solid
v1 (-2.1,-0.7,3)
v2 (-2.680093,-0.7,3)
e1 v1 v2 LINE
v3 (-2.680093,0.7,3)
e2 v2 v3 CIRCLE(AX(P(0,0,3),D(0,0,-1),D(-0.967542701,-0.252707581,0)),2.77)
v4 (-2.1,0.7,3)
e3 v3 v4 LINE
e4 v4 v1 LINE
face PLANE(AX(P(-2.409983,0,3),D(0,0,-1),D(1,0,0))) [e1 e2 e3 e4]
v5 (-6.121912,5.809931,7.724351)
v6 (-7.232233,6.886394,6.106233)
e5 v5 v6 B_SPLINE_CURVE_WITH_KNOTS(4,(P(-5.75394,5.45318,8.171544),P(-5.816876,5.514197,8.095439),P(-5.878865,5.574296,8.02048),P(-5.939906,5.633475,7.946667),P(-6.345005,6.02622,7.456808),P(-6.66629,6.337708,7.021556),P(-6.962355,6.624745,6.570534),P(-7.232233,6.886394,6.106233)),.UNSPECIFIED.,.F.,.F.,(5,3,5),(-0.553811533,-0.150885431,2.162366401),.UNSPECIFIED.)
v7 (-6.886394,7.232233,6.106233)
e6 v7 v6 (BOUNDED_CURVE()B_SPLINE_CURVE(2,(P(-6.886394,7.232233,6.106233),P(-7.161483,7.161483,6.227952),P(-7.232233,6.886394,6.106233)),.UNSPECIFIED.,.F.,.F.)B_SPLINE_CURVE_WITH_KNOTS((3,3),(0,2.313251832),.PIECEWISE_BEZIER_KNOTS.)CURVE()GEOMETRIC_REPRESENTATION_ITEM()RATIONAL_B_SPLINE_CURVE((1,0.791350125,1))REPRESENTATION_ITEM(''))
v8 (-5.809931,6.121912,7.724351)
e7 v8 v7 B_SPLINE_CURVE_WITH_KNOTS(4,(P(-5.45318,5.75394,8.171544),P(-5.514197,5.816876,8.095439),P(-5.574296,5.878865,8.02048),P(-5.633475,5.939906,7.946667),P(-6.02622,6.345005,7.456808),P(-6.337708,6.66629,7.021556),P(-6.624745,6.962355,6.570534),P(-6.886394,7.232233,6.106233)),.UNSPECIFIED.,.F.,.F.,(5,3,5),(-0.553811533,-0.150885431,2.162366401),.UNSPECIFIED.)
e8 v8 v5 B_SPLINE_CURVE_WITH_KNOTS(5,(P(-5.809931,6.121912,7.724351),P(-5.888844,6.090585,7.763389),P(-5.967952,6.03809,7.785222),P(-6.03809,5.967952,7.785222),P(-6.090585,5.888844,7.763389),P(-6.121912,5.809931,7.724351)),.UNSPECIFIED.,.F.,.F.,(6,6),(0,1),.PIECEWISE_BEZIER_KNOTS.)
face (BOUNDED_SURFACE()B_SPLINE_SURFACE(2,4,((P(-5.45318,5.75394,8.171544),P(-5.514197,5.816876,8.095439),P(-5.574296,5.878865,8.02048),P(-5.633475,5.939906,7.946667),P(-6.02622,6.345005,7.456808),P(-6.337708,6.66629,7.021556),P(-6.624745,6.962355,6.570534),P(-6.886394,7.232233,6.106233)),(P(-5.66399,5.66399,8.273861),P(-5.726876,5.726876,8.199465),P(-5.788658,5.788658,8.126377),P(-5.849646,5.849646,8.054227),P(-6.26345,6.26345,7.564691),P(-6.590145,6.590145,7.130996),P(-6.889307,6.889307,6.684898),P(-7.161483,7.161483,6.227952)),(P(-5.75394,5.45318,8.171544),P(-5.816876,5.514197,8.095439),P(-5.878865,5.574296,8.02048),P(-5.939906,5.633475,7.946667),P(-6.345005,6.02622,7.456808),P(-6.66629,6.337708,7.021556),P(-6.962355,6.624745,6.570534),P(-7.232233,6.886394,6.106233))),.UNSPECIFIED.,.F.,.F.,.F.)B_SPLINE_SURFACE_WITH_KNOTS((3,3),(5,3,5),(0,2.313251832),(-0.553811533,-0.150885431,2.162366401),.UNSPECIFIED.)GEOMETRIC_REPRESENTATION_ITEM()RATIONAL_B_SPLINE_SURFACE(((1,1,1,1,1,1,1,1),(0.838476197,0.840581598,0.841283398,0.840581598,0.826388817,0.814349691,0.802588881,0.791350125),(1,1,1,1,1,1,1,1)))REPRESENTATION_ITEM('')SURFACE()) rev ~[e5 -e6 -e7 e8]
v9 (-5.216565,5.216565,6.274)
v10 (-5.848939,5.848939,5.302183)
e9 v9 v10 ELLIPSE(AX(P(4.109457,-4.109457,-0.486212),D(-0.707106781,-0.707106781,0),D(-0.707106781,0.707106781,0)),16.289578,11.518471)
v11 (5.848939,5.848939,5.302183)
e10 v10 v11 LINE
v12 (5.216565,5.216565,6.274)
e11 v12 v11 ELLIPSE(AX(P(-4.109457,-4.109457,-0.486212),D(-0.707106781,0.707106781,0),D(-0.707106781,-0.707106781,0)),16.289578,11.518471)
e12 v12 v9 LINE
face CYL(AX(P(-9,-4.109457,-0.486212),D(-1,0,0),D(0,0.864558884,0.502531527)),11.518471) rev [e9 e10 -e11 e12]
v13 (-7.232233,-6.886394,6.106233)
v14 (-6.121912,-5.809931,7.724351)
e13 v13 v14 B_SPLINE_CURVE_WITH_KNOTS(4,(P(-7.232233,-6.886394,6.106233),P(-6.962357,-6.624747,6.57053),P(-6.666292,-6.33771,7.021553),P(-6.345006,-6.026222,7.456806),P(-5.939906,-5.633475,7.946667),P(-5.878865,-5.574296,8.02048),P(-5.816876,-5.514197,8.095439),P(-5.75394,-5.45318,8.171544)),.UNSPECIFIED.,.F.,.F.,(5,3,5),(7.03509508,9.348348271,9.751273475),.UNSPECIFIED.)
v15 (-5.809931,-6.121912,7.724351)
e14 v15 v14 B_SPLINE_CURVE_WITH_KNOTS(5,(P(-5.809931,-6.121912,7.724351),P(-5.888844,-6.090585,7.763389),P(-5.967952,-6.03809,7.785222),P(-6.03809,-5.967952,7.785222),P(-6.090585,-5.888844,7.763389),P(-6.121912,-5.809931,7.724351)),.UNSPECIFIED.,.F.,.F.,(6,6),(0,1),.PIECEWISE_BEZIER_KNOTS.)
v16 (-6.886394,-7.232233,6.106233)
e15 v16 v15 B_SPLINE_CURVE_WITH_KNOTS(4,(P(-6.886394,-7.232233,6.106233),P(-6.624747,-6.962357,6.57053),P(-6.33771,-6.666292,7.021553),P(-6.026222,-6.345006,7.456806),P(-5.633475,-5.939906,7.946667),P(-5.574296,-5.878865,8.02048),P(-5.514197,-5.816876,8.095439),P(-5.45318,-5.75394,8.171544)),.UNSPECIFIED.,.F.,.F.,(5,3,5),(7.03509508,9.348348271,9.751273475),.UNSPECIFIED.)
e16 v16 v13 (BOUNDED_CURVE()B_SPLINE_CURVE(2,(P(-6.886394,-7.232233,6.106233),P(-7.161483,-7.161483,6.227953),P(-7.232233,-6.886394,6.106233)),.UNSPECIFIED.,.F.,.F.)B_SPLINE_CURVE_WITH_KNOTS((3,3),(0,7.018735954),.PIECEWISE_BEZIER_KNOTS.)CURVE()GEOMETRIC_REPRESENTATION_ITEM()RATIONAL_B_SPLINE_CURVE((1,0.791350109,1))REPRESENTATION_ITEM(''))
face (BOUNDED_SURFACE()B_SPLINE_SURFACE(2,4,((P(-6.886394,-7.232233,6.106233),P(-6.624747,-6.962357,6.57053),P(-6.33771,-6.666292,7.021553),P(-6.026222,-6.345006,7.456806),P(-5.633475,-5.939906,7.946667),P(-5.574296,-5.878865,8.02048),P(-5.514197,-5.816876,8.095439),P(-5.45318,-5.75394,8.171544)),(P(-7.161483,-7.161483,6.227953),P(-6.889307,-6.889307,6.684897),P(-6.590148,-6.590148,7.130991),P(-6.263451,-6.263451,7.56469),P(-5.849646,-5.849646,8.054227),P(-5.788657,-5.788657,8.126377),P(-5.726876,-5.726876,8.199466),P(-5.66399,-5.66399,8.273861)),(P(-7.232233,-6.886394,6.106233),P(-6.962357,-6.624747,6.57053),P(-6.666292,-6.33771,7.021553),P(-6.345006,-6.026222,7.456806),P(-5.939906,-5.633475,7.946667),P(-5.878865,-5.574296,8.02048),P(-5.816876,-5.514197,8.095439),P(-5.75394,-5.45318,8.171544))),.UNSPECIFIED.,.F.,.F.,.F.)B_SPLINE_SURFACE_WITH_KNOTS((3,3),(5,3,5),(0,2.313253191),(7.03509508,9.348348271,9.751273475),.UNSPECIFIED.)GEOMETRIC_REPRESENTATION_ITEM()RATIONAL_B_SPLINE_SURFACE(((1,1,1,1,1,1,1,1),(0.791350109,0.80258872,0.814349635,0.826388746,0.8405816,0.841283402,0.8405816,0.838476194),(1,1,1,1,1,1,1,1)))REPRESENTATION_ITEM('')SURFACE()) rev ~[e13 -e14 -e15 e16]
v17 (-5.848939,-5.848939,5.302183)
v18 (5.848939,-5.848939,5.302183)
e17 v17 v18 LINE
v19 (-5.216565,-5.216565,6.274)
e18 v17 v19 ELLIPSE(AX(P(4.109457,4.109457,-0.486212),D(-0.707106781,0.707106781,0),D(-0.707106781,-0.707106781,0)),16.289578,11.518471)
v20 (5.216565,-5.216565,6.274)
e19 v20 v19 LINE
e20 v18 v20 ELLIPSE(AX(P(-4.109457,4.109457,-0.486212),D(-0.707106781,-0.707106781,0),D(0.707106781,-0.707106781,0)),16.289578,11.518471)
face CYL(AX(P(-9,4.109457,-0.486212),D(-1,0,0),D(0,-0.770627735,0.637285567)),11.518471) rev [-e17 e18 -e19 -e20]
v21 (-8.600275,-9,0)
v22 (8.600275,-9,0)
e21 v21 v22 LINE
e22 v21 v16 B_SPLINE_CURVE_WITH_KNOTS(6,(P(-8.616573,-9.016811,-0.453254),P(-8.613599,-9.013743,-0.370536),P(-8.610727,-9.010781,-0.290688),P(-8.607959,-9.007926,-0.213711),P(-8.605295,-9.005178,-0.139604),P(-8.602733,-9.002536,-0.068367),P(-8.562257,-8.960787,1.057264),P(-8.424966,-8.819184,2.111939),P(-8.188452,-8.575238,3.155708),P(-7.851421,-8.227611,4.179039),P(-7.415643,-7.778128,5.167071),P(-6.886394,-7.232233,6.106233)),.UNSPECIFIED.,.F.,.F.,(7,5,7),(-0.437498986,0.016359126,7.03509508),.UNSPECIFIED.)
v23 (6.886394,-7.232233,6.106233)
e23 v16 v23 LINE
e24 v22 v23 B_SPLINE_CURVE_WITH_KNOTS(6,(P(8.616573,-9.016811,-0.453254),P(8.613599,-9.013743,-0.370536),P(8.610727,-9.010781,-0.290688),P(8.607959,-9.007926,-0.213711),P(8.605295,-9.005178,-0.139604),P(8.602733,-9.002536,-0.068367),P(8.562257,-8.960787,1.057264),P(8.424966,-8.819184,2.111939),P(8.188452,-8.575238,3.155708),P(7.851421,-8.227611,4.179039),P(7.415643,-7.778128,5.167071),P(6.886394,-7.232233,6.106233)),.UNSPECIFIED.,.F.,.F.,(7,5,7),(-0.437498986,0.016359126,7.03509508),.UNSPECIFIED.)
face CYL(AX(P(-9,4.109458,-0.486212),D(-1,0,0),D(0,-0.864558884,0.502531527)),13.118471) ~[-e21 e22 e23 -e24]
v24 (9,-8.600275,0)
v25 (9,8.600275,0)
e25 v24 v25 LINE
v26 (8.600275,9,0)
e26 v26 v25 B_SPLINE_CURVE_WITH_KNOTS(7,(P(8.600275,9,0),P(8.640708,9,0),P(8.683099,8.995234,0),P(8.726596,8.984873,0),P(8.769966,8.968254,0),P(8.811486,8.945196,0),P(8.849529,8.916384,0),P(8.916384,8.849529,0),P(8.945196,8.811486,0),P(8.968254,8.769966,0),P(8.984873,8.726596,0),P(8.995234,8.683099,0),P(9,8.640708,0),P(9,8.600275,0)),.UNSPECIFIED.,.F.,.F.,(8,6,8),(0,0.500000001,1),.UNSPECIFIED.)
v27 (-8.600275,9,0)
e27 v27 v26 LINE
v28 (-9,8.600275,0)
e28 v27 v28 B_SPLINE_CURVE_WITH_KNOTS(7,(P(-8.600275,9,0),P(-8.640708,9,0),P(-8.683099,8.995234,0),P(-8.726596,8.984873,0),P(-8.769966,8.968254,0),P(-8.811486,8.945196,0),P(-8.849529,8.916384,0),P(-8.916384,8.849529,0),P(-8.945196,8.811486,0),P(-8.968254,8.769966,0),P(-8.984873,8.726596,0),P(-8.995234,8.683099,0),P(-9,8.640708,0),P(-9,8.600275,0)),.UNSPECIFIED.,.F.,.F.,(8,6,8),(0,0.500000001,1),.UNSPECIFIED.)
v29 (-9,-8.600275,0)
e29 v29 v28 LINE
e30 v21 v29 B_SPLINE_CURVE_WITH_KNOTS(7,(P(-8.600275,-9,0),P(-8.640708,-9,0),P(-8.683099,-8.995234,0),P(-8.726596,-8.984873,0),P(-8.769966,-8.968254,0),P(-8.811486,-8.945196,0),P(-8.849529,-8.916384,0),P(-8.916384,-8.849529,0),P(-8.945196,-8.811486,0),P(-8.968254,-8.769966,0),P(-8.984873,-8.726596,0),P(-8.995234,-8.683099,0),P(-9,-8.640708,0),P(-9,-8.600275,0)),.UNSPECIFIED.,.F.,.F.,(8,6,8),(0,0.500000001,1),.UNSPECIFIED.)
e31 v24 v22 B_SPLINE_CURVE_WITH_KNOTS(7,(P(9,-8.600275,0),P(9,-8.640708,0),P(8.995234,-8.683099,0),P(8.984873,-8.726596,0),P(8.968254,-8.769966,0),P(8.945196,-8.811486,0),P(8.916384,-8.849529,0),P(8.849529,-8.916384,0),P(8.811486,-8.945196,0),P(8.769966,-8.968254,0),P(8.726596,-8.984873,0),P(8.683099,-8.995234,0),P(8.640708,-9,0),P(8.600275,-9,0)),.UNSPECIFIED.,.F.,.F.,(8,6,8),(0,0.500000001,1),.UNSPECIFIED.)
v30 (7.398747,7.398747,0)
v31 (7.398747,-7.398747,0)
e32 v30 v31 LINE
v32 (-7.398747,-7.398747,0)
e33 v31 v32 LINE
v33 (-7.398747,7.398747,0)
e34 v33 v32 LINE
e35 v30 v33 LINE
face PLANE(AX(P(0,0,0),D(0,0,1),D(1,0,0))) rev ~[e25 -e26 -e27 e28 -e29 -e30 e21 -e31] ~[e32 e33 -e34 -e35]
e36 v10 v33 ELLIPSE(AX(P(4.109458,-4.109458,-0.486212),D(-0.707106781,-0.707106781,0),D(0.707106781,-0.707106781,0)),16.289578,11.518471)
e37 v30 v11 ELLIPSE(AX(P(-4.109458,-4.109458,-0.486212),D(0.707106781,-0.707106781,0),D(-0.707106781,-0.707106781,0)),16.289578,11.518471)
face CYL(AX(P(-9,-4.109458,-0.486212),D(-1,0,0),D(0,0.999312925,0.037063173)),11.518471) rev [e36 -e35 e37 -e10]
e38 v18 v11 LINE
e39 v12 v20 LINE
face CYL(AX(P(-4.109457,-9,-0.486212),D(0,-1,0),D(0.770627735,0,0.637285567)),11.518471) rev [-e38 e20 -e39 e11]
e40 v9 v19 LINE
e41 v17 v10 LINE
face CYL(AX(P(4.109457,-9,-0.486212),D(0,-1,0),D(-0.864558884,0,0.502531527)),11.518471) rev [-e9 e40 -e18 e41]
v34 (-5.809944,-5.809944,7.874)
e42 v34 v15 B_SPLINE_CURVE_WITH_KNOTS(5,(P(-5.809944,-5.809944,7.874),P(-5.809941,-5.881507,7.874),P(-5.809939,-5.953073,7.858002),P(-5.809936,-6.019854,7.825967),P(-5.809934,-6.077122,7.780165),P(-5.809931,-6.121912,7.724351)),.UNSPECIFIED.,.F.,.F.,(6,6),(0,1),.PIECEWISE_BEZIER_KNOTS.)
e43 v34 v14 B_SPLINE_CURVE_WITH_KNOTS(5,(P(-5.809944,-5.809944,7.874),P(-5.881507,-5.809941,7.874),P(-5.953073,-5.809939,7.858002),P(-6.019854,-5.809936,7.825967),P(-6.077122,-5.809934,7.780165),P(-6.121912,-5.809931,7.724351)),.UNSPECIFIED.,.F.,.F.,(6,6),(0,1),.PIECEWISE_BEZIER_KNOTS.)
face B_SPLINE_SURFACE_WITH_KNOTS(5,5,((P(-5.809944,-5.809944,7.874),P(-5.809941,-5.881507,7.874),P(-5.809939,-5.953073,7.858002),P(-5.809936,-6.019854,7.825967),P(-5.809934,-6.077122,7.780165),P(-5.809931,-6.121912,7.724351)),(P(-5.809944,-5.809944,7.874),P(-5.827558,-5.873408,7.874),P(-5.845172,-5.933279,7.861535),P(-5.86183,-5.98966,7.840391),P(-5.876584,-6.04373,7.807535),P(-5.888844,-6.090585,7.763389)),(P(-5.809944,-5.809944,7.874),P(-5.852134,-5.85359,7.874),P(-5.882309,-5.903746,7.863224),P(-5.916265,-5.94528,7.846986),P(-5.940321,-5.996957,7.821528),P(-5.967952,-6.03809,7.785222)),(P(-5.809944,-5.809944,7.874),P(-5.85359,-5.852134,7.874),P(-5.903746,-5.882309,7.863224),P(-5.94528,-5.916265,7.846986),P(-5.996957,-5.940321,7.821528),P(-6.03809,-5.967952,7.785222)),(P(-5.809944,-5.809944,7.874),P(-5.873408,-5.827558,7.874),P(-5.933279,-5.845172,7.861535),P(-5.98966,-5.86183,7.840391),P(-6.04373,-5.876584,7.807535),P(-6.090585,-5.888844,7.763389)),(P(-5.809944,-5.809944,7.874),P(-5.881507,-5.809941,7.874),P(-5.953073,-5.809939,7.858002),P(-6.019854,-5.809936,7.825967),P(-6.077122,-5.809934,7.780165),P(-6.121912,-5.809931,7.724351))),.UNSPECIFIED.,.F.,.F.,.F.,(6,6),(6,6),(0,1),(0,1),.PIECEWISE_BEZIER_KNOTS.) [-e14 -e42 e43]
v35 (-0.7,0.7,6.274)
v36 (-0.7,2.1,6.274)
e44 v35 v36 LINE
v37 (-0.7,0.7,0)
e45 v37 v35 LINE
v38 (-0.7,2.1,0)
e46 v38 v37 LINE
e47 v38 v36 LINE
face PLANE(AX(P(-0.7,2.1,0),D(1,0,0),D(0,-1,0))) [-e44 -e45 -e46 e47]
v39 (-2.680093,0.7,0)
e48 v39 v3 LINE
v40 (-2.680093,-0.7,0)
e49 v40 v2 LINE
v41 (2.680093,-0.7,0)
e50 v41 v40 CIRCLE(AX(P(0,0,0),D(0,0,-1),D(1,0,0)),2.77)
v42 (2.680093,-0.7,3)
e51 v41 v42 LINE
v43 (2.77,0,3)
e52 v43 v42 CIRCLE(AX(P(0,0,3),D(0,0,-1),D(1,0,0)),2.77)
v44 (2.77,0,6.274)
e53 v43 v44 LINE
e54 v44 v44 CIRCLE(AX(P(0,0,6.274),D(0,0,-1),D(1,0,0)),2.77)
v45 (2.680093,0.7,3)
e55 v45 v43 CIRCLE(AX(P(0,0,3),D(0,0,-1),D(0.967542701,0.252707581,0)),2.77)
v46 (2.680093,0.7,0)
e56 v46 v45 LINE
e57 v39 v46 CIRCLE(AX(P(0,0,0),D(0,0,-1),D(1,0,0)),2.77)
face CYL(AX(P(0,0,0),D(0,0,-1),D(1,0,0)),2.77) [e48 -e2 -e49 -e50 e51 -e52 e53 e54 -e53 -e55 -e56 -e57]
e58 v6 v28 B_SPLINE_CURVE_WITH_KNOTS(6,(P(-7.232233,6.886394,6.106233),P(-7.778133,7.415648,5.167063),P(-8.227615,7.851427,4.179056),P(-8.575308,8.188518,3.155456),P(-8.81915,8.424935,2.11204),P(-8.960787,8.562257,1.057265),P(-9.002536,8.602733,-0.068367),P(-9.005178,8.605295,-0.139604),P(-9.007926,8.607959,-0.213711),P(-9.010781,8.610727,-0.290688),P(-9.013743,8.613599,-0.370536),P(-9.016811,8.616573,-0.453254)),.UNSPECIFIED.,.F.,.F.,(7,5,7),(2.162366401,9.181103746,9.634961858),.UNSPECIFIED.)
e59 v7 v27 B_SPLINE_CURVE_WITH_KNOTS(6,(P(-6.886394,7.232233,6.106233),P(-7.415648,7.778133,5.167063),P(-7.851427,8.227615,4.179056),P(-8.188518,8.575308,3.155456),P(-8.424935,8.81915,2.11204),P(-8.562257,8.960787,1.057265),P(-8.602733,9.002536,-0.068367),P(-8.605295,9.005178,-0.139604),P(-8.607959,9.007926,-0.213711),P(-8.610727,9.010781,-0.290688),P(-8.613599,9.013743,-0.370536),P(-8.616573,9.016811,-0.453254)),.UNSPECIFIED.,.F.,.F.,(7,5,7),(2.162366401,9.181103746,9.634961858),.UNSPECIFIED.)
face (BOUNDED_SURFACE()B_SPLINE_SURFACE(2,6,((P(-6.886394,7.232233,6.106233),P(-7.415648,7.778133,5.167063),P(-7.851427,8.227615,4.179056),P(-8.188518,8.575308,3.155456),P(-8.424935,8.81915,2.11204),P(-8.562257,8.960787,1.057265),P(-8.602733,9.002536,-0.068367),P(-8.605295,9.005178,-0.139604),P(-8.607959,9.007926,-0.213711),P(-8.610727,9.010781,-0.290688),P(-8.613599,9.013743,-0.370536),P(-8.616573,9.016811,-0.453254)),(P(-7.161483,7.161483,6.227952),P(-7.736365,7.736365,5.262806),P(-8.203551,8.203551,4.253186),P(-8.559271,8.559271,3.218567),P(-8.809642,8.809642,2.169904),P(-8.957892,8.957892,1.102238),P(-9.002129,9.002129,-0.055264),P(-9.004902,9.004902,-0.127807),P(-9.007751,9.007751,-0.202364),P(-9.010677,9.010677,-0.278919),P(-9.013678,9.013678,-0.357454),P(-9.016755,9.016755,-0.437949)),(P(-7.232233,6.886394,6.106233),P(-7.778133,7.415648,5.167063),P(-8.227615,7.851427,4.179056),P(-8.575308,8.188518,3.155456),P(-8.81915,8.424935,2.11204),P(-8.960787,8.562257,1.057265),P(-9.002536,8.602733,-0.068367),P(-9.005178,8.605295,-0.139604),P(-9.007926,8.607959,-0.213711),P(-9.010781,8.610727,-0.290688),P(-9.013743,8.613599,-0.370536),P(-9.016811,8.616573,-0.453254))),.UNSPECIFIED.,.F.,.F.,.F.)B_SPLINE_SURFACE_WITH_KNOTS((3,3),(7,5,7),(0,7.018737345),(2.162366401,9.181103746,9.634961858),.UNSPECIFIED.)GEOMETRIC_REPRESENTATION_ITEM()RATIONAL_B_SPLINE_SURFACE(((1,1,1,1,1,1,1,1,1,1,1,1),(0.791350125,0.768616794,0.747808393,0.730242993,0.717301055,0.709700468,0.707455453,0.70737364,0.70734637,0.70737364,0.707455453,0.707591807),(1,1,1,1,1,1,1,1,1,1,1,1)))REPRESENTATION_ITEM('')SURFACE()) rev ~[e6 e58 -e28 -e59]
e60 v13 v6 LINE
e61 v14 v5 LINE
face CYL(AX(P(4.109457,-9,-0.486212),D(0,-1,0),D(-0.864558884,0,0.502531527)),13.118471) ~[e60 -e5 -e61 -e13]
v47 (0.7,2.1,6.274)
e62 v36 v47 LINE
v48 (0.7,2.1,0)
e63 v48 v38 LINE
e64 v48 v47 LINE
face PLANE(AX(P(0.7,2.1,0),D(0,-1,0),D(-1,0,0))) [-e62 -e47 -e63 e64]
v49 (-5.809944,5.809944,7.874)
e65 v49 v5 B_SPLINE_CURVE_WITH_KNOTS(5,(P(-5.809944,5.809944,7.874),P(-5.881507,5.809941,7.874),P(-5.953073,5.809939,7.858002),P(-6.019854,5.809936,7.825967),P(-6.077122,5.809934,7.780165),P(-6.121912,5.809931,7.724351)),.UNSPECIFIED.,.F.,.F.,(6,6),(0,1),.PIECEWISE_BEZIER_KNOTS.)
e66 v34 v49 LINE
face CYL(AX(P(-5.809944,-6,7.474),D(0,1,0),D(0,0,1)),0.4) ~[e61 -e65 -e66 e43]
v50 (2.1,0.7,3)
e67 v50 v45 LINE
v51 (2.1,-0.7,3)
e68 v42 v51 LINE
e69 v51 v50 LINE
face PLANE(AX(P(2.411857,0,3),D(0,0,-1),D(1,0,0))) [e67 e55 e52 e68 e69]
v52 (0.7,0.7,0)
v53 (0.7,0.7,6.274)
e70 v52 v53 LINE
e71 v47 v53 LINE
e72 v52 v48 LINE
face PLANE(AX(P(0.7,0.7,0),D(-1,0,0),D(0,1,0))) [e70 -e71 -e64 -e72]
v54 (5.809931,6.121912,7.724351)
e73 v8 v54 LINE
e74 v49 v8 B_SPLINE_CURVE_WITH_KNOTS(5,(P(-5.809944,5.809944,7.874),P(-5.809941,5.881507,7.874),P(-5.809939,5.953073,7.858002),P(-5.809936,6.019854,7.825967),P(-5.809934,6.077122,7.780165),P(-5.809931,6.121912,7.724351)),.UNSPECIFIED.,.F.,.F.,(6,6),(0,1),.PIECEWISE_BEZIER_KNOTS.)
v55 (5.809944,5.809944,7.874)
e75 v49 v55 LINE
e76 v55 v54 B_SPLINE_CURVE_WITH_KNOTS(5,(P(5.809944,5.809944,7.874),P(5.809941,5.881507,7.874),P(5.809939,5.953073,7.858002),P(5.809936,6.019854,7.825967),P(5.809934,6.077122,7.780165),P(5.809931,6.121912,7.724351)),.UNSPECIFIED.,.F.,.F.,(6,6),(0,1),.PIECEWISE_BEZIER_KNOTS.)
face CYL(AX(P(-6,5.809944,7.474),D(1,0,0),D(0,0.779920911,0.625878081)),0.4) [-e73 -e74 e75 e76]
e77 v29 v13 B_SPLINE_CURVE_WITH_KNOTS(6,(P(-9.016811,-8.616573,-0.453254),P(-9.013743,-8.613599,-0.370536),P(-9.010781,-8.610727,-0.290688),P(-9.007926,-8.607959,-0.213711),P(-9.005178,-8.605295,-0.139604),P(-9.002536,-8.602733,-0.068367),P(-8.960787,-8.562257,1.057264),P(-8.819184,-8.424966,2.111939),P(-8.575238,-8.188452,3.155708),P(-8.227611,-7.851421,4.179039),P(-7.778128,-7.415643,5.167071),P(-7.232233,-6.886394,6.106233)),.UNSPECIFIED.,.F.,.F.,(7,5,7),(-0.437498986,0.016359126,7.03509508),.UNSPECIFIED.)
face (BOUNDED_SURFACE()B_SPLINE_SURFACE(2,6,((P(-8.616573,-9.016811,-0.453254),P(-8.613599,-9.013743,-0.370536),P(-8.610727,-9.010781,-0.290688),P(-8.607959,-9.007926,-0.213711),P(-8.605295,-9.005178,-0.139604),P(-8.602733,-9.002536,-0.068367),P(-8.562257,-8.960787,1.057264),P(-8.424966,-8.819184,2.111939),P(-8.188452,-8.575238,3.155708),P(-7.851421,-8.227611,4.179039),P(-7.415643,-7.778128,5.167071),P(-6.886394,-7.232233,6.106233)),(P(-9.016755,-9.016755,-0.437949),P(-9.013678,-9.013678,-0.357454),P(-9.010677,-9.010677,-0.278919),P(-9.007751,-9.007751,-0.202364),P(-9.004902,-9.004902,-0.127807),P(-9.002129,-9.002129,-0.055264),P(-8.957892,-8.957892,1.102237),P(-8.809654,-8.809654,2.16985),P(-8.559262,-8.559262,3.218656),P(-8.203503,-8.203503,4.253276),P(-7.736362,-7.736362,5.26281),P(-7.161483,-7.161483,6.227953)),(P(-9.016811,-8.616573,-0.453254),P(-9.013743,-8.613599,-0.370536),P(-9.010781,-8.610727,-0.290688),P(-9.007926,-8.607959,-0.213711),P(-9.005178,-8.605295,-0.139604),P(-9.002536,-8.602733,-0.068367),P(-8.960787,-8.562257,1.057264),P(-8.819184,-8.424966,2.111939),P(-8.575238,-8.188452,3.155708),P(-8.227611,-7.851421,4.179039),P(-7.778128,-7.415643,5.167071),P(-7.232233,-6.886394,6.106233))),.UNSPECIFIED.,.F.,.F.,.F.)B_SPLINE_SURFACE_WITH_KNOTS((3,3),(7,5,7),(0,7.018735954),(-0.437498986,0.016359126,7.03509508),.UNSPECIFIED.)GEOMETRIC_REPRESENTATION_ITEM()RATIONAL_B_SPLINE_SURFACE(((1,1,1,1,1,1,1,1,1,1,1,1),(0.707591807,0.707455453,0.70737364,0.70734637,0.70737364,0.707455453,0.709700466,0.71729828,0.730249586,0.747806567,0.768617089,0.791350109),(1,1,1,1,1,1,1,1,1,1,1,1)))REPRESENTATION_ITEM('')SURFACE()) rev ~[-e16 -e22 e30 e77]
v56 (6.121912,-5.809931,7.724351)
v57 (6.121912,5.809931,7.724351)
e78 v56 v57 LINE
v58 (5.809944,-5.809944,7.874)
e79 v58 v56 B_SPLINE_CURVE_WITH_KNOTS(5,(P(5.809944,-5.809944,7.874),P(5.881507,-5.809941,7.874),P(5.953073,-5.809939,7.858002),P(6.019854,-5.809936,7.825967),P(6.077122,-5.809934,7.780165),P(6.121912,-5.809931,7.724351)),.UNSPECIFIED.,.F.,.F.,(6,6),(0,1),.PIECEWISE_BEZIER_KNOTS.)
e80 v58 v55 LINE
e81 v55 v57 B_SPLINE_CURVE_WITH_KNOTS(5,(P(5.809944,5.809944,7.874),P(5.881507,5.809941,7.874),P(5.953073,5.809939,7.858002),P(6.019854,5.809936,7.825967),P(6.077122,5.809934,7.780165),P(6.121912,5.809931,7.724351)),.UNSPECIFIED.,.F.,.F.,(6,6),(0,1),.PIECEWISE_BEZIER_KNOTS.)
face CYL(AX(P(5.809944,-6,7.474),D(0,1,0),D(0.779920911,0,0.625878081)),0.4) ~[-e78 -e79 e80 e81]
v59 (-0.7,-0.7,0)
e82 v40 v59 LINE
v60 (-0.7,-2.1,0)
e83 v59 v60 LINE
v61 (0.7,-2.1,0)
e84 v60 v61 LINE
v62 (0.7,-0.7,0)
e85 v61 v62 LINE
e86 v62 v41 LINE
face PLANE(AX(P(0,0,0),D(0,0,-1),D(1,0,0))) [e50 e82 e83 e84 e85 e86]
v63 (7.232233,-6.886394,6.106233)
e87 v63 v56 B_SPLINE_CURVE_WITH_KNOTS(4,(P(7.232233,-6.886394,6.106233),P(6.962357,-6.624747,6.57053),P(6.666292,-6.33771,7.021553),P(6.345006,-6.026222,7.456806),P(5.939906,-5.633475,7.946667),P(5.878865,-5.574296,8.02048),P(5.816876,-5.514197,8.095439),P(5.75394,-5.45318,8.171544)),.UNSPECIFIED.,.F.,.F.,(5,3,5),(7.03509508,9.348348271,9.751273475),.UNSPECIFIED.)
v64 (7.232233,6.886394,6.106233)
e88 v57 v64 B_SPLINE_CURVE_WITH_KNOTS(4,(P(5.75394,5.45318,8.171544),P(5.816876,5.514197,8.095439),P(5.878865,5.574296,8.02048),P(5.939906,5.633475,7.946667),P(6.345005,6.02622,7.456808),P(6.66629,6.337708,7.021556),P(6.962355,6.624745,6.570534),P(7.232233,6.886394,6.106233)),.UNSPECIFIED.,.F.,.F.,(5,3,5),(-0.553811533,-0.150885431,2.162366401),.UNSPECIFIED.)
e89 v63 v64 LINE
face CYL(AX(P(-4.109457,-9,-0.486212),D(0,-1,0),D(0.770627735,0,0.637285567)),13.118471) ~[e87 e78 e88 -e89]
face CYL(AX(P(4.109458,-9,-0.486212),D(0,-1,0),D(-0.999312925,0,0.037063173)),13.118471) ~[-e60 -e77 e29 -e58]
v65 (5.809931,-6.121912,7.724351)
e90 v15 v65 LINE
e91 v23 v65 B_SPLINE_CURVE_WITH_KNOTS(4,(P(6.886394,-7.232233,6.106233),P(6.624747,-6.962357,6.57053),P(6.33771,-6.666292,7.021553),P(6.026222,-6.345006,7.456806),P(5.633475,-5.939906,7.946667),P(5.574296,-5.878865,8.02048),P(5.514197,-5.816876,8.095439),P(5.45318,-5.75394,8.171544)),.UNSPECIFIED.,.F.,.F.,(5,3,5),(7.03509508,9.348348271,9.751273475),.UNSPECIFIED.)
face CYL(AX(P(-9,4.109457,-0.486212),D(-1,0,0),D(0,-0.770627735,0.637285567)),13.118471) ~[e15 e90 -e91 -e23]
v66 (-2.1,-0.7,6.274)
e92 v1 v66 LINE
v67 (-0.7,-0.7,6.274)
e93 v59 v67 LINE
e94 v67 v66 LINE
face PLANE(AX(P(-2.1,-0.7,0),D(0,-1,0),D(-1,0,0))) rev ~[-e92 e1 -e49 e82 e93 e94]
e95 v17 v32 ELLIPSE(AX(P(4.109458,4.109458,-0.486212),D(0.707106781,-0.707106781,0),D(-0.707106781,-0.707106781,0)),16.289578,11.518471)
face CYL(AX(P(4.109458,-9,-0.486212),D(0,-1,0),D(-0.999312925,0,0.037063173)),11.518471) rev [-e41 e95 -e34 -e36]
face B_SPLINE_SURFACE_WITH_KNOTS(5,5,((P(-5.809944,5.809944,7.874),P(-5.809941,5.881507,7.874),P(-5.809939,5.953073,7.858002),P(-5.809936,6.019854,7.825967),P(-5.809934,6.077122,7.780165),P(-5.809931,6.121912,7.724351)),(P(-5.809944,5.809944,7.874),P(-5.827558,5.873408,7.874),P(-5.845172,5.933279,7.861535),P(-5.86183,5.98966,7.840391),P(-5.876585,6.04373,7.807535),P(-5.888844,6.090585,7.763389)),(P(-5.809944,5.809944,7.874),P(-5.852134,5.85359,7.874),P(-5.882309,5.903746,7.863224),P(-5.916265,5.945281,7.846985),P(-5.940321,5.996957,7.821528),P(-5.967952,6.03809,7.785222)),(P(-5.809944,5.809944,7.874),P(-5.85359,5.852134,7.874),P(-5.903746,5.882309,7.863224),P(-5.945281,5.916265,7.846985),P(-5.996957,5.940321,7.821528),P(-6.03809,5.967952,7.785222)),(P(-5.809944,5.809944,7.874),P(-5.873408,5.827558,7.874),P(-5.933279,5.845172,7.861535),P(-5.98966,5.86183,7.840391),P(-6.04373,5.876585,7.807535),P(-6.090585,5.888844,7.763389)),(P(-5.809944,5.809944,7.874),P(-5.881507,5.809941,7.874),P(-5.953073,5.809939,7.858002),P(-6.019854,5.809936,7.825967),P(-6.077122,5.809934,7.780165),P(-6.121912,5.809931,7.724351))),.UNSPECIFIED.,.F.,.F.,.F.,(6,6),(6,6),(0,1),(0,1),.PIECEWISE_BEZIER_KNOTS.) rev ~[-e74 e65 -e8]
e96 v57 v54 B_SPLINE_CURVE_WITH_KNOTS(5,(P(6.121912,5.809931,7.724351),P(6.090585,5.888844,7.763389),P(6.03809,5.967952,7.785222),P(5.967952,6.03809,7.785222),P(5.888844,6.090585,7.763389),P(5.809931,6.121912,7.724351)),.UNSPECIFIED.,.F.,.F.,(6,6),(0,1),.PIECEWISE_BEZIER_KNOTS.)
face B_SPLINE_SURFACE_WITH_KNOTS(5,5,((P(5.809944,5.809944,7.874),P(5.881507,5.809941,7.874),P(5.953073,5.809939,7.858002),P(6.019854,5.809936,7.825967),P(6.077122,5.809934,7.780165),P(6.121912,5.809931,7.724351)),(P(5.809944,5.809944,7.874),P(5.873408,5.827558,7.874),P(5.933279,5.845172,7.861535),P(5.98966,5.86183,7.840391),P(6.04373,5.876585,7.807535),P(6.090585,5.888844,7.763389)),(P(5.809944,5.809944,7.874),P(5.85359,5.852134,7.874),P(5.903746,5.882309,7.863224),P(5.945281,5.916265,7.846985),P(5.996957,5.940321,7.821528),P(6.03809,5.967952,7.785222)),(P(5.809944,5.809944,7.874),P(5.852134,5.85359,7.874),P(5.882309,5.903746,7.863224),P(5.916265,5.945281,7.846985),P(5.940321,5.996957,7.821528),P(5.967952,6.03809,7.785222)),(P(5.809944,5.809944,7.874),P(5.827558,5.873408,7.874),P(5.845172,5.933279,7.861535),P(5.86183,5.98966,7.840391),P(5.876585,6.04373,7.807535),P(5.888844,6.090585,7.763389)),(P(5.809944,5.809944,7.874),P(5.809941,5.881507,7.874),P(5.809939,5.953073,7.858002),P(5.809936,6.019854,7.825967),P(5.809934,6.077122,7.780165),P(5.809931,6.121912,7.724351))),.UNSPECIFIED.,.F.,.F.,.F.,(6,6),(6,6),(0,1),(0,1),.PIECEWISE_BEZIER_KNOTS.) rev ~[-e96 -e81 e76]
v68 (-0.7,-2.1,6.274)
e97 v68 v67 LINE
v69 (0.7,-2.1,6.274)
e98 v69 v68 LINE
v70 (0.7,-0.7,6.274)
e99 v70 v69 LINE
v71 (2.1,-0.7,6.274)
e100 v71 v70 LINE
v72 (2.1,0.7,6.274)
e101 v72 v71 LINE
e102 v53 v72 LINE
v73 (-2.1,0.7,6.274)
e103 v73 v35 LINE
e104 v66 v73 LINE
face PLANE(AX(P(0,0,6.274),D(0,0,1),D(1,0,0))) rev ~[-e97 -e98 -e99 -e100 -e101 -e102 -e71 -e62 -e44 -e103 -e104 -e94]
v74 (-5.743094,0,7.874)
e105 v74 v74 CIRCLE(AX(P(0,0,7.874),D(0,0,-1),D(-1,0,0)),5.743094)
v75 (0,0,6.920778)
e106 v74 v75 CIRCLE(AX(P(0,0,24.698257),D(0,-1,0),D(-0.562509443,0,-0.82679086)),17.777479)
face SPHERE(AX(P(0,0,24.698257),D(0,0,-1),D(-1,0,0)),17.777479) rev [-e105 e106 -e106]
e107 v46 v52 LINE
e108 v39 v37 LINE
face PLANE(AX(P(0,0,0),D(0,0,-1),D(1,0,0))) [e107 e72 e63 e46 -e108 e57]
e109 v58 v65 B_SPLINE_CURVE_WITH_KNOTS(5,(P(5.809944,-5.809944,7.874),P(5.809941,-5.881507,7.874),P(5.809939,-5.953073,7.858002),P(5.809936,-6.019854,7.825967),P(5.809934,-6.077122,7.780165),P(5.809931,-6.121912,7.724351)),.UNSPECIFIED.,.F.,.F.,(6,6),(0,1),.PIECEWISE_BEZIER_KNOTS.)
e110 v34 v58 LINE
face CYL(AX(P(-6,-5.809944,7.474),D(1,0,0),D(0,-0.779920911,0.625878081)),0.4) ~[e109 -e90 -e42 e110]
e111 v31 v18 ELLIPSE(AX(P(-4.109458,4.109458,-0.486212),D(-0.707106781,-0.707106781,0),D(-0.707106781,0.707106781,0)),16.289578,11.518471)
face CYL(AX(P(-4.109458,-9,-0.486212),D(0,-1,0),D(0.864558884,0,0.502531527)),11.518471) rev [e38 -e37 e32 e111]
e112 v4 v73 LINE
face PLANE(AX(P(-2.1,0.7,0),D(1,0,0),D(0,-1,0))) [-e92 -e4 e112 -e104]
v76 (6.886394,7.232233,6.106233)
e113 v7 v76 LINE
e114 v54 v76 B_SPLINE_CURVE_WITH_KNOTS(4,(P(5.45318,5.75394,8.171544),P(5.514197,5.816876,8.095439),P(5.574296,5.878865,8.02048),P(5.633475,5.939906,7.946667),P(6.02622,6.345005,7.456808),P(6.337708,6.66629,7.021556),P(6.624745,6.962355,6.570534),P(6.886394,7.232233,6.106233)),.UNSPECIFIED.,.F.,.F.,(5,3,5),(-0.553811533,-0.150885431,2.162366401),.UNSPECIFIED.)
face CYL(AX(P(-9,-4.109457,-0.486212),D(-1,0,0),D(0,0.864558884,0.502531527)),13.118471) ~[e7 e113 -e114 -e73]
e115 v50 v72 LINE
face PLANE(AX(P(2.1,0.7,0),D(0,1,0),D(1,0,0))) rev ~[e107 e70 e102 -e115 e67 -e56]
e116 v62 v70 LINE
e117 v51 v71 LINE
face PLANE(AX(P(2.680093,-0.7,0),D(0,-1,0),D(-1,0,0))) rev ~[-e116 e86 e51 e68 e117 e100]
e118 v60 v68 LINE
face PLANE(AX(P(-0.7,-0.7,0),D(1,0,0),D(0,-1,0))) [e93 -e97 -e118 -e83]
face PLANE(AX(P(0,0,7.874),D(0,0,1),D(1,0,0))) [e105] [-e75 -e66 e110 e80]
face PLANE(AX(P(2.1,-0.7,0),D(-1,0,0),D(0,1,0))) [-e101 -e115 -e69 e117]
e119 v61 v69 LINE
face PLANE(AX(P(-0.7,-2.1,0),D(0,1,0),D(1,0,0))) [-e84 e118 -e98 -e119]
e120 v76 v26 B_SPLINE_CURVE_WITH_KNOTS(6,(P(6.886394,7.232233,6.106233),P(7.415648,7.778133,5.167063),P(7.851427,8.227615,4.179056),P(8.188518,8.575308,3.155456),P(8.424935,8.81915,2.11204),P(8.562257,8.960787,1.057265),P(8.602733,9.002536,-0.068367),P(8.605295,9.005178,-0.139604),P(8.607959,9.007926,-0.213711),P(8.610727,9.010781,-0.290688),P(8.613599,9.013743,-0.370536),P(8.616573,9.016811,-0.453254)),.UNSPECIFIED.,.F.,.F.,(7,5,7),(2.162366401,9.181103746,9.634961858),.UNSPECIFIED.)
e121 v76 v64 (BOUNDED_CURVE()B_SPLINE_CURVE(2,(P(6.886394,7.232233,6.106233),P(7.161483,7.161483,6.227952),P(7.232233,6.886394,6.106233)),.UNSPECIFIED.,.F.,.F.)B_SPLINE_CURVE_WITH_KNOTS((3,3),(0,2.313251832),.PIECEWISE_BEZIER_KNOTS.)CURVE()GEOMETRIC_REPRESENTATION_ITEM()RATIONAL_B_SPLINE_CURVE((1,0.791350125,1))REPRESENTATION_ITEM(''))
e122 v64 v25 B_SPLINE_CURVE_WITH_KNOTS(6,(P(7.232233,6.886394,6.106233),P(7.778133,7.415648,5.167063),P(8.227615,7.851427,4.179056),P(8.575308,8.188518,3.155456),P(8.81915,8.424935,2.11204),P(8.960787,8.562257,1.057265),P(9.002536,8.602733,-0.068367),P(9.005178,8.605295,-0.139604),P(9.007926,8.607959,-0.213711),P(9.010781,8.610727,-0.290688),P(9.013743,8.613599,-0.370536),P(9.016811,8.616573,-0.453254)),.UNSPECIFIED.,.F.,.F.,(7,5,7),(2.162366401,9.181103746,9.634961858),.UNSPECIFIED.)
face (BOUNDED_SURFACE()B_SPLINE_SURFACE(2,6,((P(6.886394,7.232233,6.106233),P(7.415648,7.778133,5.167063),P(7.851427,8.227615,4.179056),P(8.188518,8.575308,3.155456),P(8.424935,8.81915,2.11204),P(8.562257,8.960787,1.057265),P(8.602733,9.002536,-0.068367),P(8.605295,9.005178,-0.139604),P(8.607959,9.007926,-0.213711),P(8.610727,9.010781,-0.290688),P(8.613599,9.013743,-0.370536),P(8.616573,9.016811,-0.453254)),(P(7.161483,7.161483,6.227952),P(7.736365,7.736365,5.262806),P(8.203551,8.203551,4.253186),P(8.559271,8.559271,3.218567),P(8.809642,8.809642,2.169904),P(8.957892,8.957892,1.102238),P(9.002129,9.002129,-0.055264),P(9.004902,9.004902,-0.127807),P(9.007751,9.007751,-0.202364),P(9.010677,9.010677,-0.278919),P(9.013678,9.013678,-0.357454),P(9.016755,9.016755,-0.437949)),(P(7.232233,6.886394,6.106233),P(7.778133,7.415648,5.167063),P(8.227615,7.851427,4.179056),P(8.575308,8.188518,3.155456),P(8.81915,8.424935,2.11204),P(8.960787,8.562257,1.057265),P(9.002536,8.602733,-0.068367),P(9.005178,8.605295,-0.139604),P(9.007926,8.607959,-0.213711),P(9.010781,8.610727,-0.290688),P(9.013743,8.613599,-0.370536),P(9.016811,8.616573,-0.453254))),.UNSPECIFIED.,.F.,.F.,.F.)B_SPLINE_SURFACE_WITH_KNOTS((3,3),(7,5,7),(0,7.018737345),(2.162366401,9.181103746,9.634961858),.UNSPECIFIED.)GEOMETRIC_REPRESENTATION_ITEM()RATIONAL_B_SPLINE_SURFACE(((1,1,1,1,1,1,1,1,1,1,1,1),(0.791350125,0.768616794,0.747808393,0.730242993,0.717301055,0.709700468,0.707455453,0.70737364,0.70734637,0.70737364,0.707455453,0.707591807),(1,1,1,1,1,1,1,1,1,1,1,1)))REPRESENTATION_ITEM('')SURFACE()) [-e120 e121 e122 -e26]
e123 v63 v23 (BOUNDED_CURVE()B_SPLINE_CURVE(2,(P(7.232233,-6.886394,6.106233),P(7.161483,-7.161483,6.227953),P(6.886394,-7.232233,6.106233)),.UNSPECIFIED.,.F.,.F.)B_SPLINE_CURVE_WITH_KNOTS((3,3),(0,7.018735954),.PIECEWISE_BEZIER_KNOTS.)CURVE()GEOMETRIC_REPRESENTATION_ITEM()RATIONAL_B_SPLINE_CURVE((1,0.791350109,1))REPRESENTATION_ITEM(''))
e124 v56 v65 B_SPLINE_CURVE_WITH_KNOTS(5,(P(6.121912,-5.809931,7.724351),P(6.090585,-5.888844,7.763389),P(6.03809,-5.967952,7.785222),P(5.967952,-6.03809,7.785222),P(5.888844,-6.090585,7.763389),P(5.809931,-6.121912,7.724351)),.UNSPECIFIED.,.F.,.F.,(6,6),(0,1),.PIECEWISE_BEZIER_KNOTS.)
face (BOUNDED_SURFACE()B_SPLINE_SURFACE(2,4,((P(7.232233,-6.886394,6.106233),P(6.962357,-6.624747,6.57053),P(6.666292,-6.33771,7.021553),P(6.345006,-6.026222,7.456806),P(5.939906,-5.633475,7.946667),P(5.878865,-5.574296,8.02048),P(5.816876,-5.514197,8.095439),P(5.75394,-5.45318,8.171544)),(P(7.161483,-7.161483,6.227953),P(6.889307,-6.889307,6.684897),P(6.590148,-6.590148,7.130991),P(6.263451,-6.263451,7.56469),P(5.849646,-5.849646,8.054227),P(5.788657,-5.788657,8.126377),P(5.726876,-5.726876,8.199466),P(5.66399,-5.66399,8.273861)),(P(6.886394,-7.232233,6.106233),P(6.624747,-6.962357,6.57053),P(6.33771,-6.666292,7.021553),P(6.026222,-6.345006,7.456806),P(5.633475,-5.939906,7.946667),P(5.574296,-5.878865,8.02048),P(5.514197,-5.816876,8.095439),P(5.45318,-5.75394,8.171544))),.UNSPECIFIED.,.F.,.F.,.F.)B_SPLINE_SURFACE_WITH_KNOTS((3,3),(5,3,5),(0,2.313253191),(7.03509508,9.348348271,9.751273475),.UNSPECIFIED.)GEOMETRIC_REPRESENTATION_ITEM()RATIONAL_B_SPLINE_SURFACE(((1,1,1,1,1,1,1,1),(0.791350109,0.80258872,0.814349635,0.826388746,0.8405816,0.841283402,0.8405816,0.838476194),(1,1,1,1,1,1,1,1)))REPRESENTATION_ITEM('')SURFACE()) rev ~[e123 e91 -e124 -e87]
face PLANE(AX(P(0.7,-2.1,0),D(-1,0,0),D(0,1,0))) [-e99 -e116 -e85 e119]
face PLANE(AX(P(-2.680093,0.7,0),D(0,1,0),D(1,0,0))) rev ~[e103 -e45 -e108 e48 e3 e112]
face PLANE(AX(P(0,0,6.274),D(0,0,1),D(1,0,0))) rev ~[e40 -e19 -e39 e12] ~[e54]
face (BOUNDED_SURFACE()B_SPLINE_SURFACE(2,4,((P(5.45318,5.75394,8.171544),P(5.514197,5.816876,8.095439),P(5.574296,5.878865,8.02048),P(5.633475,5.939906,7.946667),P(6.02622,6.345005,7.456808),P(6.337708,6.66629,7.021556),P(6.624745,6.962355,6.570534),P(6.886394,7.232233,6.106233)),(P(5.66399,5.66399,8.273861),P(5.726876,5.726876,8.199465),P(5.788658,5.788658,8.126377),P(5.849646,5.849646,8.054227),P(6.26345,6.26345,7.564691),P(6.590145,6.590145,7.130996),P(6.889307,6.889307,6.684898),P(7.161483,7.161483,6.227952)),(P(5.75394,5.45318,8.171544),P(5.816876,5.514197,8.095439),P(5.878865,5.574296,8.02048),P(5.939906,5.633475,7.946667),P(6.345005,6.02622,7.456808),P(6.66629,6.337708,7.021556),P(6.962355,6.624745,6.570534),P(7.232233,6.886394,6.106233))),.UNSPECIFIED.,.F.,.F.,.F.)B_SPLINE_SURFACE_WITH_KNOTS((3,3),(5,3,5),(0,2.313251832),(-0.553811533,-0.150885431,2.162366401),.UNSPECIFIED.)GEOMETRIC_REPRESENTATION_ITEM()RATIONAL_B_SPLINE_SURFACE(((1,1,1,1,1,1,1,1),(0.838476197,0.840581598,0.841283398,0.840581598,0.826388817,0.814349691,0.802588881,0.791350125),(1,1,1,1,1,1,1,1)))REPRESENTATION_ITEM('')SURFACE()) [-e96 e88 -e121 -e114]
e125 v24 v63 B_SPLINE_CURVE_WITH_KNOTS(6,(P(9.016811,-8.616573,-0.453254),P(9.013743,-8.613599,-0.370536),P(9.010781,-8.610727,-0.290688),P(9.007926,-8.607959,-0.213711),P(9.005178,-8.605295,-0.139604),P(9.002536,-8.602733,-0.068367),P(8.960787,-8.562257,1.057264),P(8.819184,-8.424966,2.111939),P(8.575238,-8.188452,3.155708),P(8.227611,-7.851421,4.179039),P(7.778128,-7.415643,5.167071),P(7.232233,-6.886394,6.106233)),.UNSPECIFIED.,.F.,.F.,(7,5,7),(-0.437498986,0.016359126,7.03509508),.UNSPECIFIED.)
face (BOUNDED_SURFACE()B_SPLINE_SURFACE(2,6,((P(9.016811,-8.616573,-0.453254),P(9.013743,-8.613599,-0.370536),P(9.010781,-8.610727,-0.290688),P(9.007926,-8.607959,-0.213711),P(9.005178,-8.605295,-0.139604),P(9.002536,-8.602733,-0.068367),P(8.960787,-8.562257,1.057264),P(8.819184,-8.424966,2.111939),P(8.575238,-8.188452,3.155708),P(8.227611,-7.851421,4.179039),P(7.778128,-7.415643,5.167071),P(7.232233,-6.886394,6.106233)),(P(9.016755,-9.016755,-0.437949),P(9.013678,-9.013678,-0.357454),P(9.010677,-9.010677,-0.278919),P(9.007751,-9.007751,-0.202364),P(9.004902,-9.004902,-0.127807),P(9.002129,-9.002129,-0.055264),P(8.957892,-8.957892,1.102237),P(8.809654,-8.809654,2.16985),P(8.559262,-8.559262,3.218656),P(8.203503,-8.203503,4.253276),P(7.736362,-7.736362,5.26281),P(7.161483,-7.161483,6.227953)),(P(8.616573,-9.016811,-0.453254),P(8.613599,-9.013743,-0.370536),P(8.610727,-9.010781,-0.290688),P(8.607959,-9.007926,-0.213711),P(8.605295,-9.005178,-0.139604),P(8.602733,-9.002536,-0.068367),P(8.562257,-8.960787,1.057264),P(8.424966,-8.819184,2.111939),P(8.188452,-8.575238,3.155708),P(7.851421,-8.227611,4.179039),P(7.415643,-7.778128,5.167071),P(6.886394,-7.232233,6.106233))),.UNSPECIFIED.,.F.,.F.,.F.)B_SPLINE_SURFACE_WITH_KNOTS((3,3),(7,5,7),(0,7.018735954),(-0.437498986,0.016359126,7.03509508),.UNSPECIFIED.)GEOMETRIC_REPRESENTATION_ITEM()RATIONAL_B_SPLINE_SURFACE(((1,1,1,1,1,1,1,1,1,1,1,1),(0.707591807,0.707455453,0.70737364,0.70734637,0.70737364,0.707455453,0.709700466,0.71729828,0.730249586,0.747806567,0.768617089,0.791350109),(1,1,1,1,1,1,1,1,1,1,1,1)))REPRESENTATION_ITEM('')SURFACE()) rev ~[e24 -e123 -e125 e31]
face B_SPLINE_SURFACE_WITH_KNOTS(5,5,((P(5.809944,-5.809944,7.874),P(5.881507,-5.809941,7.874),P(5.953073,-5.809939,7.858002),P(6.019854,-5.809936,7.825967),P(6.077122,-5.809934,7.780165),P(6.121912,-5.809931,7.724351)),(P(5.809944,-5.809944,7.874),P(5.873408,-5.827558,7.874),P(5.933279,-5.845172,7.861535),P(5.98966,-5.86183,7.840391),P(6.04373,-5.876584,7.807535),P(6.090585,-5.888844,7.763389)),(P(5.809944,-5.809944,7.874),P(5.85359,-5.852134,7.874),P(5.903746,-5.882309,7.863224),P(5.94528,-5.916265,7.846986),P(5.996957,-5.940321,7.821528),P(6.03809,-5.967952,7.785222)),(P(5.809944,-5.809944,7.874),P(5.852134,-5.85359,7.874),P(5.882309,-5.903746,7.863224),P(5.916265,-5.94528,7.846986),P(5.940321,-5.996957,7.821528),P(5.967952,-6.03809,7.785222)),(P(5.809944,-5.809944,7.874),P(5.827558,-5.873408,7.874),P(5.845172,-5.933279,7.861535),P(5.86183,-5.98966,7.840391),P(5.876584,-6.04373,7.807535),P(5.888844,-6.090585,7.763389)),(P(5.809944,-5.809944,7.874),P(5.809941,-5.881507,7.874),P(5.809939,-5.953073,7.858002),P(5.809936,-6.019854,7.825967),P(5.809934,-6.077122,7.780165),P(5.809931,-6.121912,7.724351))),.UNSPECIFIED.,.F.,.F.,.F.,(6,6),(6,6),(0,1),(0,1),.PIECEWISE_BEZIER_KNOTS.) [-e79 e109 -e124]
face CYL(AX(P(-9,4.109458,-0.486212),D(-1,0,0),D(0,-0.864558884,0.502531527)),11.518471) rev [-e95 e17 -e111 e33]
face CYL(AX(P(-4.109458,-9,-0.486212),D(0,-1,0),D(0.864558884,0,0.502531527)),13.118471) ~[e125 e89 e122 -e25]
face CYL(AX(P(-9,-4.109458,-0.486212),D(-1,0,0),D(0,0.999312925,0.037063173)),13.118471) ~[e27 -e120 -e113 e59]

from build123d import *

# Parameters (mm, degrees)
F0_W      = 18
F0_H      = 18
F1_DEPTH  = 7.874
F4_DEPTH  = 25
F5_DEPTH  = 25
F6_T      = -1.6
F7_R      = 2.77
F8_DEPTH  = 7
F10_DEPTH = 3
F11_R     = 0.4


with BuildPart() as f1:
    # F0 (on Top) → F1 (new body)
    with BuildSketch(Plane.XY):
        Rectangle(F0_W, F0_H)
    extrude(amount=F1_DEPTH)

    # F3 (on face) → F4 (cut)
    with BuildSketch(Plane(origin=(-9, 0, 0), x_dir=(0, -1, 0), z_dir=(-1, 0, 0))):
        with BuildLine():
            Line((-6, 7.874), (-9, 7.874))
            Line((-9, 7.874), (-7.232233047, 6.106233047))
            ThreePointArc((-7.232233047, 6.106233047), (-6.6524748606, 7.0154603305), (-6, 7.874))
        make_face()
        with BuildLine():
            Line((-7.232233047, 6.106233047), (-9, 7.874))
            Line((-9, 7.874), (-9, 0))
            ThreePointArc((-9, 0), (-8.491581374, 3.1618143655), (-7.232233047, 6.106233047))
        make_face()
        with BuildLine():
            Line((9, 7.874), (6, 7.874))
            ThreePointArc((6, 7.874), (6.6524748606, 7.0154603305), (7.232233047, 6.106233047))
            Line((7.232233047, 6.106233047), (9, 7.874))
        make_face()
        with BuildLine():
            ThreePointArc((7.232233047, 6.106233047), (8.491581374, 3.1618143655), (9, 0))
            Line((9, 0), (9, 7.874))
            Line((9, 7.874), (7.232233047, 6.106233047))
        make_face()
    extrude(amount=-F4_DEPTH, mode=Mode.SUBTRACT)

    # F2 (on face) → F5 (cut)
    with BuildSketch(Plane.XZ.offset(9)):
        with BuildLine():
            Line((-7.232233047, 6.106233047), (-9, 7.874))
            Line((-9, 7.874), (-9, 0))
            ThreePointArc((-9, 0), (-8.491581374, 3.1618143655), (-7.232233047, 6.106233047))
        make_face()
        with BuildLine():
            Line((-6, 7.874), (-9, 7.874))
            Line((-9, 7.874), (-7.232233047, 6.106233047))
            ThreePointArc((-7.232233047, 6.106233047), (-6.6524748606, 7.0154603305), (-6, 7.874))
        make_face()
        with BuildLine():
            Line((9, 7.874), (6, 7.874))
            ThreePointArc((6, 7.874), (6.6524748606, 7.0154603305), (7.232233047, 6.106233047))
            Line((7.232233047, 6.106233047), (9, 7.874))
        make_face()
        with BuildLine():
            ThreePointArc((7.232233047, 6.106233047), (8.491581374, 3.1618143655), (9, 0))
            Line((9, 0), (9, 7.874))
            Line((9, 7.874), (7.232233047, 6.106233047))
        make_face()
    extrude(amount=-F5_DEPTH, mode=Mode.SUBTRACT)

    # F6
    f6_openings = [f1.faces().sort_by_distance(p)[0] for p in [
        (0, 0, 0),
    ]]
    offset(amount=F6_T, openings=f6_openings)

    # F7 (on face) → F8 (join)
    with BuildSketch(Plane(origin=(0, 0, 0), x_dir=(1, 0, 0), z_dir=(0, 0, -1))):
        Circle(F7_R)
        Polygon((0.7, 2.1), (0.7, 0.7), (2.1, 0.7), (2.1, 0), (2.1, -0.7), (0.7, -0.7), (0.7, -2.1), (0, -2.1), (-0.7, -2.1), (-0.7, -0.7), (-2.1, -0.7), (-2.1, 0), (-2.1, 0.7), (-0.7, 0.7), (-0.7, 2.1), (0, 2.1), align=None, mode=Mode.SUBTRACT)
    extrude(amount=-F8_DEPTH)

    # F9 (on face) → F10 (cut)
    with BuildSketch(Plane(origin=(0, 0, 0), x_dir=(1, 0, 0), z_dir=(0, 0, -1))):
        with BuildLine():
            Line((-2.1, -0.7), (-2.1, 0.7))
            Line((-2.1, 0.7), (-2.680093282, 0.7))
            ThreePointArc((-2.680093282, 0.7), (-2.77, 0), (-2.680093282, -0.7))
            Line((-2.680093282, -0.7), (-2.1, -0.7))
        make_face()
        with BuildLine():
            ThreePointArc((2.77, 0), (2.7474313814, 0.3528750551), (2.680093282, 0.7))
            Line((2.680093282, 0.7), (2.1, 0.7))
            Line((2.1, 0.7), (2.1, -0.7))
            Line((2.1, -0.7), (2.680093282, -0.7))
            ThreePointArc((2.680093282, -0.7), (2.7474313814, -0.3528750551), (2.77, 0))
        make_face()
    extrude(amount=-F10_DEPTH, mode=Mode.SUBTRACT)

    # F11
    f11_edges = [f1.edges().sort_by_distance(p)[0] for p in [
        (6, 0, 7.874),
        (0, -6, 7.874),
        (0, 6, 7.874),
        (-6, 0, 7.874),
        (8.078099, 8.078099, 4.367421),
        (8.078099, -8.078099, 4.367421),
        (-8.078099, -8.078099, 4.367421),
        (-8.078099, 8.078099, 4.367421),
    ]]
    fillet(f11_edges, radius=F11_R)

    # F12 (on Front) → F13 (revolve, cut)
    with BuildSketch(Plane.XZ):
        with BuildLine():
            ThreePointArc((-10, 10), (-5.2316729526, 7.7080140656), (0, 6.9207780963))
            Line((0, 6.9207780963), (0, 10))
            Line((0, 10), (-10, 10))
        make_face()
    revolve(axis=Axis((0, 0, 5), (0, 0, 1)), mode=Mode.SUBTRACT)


solid = f1.part
